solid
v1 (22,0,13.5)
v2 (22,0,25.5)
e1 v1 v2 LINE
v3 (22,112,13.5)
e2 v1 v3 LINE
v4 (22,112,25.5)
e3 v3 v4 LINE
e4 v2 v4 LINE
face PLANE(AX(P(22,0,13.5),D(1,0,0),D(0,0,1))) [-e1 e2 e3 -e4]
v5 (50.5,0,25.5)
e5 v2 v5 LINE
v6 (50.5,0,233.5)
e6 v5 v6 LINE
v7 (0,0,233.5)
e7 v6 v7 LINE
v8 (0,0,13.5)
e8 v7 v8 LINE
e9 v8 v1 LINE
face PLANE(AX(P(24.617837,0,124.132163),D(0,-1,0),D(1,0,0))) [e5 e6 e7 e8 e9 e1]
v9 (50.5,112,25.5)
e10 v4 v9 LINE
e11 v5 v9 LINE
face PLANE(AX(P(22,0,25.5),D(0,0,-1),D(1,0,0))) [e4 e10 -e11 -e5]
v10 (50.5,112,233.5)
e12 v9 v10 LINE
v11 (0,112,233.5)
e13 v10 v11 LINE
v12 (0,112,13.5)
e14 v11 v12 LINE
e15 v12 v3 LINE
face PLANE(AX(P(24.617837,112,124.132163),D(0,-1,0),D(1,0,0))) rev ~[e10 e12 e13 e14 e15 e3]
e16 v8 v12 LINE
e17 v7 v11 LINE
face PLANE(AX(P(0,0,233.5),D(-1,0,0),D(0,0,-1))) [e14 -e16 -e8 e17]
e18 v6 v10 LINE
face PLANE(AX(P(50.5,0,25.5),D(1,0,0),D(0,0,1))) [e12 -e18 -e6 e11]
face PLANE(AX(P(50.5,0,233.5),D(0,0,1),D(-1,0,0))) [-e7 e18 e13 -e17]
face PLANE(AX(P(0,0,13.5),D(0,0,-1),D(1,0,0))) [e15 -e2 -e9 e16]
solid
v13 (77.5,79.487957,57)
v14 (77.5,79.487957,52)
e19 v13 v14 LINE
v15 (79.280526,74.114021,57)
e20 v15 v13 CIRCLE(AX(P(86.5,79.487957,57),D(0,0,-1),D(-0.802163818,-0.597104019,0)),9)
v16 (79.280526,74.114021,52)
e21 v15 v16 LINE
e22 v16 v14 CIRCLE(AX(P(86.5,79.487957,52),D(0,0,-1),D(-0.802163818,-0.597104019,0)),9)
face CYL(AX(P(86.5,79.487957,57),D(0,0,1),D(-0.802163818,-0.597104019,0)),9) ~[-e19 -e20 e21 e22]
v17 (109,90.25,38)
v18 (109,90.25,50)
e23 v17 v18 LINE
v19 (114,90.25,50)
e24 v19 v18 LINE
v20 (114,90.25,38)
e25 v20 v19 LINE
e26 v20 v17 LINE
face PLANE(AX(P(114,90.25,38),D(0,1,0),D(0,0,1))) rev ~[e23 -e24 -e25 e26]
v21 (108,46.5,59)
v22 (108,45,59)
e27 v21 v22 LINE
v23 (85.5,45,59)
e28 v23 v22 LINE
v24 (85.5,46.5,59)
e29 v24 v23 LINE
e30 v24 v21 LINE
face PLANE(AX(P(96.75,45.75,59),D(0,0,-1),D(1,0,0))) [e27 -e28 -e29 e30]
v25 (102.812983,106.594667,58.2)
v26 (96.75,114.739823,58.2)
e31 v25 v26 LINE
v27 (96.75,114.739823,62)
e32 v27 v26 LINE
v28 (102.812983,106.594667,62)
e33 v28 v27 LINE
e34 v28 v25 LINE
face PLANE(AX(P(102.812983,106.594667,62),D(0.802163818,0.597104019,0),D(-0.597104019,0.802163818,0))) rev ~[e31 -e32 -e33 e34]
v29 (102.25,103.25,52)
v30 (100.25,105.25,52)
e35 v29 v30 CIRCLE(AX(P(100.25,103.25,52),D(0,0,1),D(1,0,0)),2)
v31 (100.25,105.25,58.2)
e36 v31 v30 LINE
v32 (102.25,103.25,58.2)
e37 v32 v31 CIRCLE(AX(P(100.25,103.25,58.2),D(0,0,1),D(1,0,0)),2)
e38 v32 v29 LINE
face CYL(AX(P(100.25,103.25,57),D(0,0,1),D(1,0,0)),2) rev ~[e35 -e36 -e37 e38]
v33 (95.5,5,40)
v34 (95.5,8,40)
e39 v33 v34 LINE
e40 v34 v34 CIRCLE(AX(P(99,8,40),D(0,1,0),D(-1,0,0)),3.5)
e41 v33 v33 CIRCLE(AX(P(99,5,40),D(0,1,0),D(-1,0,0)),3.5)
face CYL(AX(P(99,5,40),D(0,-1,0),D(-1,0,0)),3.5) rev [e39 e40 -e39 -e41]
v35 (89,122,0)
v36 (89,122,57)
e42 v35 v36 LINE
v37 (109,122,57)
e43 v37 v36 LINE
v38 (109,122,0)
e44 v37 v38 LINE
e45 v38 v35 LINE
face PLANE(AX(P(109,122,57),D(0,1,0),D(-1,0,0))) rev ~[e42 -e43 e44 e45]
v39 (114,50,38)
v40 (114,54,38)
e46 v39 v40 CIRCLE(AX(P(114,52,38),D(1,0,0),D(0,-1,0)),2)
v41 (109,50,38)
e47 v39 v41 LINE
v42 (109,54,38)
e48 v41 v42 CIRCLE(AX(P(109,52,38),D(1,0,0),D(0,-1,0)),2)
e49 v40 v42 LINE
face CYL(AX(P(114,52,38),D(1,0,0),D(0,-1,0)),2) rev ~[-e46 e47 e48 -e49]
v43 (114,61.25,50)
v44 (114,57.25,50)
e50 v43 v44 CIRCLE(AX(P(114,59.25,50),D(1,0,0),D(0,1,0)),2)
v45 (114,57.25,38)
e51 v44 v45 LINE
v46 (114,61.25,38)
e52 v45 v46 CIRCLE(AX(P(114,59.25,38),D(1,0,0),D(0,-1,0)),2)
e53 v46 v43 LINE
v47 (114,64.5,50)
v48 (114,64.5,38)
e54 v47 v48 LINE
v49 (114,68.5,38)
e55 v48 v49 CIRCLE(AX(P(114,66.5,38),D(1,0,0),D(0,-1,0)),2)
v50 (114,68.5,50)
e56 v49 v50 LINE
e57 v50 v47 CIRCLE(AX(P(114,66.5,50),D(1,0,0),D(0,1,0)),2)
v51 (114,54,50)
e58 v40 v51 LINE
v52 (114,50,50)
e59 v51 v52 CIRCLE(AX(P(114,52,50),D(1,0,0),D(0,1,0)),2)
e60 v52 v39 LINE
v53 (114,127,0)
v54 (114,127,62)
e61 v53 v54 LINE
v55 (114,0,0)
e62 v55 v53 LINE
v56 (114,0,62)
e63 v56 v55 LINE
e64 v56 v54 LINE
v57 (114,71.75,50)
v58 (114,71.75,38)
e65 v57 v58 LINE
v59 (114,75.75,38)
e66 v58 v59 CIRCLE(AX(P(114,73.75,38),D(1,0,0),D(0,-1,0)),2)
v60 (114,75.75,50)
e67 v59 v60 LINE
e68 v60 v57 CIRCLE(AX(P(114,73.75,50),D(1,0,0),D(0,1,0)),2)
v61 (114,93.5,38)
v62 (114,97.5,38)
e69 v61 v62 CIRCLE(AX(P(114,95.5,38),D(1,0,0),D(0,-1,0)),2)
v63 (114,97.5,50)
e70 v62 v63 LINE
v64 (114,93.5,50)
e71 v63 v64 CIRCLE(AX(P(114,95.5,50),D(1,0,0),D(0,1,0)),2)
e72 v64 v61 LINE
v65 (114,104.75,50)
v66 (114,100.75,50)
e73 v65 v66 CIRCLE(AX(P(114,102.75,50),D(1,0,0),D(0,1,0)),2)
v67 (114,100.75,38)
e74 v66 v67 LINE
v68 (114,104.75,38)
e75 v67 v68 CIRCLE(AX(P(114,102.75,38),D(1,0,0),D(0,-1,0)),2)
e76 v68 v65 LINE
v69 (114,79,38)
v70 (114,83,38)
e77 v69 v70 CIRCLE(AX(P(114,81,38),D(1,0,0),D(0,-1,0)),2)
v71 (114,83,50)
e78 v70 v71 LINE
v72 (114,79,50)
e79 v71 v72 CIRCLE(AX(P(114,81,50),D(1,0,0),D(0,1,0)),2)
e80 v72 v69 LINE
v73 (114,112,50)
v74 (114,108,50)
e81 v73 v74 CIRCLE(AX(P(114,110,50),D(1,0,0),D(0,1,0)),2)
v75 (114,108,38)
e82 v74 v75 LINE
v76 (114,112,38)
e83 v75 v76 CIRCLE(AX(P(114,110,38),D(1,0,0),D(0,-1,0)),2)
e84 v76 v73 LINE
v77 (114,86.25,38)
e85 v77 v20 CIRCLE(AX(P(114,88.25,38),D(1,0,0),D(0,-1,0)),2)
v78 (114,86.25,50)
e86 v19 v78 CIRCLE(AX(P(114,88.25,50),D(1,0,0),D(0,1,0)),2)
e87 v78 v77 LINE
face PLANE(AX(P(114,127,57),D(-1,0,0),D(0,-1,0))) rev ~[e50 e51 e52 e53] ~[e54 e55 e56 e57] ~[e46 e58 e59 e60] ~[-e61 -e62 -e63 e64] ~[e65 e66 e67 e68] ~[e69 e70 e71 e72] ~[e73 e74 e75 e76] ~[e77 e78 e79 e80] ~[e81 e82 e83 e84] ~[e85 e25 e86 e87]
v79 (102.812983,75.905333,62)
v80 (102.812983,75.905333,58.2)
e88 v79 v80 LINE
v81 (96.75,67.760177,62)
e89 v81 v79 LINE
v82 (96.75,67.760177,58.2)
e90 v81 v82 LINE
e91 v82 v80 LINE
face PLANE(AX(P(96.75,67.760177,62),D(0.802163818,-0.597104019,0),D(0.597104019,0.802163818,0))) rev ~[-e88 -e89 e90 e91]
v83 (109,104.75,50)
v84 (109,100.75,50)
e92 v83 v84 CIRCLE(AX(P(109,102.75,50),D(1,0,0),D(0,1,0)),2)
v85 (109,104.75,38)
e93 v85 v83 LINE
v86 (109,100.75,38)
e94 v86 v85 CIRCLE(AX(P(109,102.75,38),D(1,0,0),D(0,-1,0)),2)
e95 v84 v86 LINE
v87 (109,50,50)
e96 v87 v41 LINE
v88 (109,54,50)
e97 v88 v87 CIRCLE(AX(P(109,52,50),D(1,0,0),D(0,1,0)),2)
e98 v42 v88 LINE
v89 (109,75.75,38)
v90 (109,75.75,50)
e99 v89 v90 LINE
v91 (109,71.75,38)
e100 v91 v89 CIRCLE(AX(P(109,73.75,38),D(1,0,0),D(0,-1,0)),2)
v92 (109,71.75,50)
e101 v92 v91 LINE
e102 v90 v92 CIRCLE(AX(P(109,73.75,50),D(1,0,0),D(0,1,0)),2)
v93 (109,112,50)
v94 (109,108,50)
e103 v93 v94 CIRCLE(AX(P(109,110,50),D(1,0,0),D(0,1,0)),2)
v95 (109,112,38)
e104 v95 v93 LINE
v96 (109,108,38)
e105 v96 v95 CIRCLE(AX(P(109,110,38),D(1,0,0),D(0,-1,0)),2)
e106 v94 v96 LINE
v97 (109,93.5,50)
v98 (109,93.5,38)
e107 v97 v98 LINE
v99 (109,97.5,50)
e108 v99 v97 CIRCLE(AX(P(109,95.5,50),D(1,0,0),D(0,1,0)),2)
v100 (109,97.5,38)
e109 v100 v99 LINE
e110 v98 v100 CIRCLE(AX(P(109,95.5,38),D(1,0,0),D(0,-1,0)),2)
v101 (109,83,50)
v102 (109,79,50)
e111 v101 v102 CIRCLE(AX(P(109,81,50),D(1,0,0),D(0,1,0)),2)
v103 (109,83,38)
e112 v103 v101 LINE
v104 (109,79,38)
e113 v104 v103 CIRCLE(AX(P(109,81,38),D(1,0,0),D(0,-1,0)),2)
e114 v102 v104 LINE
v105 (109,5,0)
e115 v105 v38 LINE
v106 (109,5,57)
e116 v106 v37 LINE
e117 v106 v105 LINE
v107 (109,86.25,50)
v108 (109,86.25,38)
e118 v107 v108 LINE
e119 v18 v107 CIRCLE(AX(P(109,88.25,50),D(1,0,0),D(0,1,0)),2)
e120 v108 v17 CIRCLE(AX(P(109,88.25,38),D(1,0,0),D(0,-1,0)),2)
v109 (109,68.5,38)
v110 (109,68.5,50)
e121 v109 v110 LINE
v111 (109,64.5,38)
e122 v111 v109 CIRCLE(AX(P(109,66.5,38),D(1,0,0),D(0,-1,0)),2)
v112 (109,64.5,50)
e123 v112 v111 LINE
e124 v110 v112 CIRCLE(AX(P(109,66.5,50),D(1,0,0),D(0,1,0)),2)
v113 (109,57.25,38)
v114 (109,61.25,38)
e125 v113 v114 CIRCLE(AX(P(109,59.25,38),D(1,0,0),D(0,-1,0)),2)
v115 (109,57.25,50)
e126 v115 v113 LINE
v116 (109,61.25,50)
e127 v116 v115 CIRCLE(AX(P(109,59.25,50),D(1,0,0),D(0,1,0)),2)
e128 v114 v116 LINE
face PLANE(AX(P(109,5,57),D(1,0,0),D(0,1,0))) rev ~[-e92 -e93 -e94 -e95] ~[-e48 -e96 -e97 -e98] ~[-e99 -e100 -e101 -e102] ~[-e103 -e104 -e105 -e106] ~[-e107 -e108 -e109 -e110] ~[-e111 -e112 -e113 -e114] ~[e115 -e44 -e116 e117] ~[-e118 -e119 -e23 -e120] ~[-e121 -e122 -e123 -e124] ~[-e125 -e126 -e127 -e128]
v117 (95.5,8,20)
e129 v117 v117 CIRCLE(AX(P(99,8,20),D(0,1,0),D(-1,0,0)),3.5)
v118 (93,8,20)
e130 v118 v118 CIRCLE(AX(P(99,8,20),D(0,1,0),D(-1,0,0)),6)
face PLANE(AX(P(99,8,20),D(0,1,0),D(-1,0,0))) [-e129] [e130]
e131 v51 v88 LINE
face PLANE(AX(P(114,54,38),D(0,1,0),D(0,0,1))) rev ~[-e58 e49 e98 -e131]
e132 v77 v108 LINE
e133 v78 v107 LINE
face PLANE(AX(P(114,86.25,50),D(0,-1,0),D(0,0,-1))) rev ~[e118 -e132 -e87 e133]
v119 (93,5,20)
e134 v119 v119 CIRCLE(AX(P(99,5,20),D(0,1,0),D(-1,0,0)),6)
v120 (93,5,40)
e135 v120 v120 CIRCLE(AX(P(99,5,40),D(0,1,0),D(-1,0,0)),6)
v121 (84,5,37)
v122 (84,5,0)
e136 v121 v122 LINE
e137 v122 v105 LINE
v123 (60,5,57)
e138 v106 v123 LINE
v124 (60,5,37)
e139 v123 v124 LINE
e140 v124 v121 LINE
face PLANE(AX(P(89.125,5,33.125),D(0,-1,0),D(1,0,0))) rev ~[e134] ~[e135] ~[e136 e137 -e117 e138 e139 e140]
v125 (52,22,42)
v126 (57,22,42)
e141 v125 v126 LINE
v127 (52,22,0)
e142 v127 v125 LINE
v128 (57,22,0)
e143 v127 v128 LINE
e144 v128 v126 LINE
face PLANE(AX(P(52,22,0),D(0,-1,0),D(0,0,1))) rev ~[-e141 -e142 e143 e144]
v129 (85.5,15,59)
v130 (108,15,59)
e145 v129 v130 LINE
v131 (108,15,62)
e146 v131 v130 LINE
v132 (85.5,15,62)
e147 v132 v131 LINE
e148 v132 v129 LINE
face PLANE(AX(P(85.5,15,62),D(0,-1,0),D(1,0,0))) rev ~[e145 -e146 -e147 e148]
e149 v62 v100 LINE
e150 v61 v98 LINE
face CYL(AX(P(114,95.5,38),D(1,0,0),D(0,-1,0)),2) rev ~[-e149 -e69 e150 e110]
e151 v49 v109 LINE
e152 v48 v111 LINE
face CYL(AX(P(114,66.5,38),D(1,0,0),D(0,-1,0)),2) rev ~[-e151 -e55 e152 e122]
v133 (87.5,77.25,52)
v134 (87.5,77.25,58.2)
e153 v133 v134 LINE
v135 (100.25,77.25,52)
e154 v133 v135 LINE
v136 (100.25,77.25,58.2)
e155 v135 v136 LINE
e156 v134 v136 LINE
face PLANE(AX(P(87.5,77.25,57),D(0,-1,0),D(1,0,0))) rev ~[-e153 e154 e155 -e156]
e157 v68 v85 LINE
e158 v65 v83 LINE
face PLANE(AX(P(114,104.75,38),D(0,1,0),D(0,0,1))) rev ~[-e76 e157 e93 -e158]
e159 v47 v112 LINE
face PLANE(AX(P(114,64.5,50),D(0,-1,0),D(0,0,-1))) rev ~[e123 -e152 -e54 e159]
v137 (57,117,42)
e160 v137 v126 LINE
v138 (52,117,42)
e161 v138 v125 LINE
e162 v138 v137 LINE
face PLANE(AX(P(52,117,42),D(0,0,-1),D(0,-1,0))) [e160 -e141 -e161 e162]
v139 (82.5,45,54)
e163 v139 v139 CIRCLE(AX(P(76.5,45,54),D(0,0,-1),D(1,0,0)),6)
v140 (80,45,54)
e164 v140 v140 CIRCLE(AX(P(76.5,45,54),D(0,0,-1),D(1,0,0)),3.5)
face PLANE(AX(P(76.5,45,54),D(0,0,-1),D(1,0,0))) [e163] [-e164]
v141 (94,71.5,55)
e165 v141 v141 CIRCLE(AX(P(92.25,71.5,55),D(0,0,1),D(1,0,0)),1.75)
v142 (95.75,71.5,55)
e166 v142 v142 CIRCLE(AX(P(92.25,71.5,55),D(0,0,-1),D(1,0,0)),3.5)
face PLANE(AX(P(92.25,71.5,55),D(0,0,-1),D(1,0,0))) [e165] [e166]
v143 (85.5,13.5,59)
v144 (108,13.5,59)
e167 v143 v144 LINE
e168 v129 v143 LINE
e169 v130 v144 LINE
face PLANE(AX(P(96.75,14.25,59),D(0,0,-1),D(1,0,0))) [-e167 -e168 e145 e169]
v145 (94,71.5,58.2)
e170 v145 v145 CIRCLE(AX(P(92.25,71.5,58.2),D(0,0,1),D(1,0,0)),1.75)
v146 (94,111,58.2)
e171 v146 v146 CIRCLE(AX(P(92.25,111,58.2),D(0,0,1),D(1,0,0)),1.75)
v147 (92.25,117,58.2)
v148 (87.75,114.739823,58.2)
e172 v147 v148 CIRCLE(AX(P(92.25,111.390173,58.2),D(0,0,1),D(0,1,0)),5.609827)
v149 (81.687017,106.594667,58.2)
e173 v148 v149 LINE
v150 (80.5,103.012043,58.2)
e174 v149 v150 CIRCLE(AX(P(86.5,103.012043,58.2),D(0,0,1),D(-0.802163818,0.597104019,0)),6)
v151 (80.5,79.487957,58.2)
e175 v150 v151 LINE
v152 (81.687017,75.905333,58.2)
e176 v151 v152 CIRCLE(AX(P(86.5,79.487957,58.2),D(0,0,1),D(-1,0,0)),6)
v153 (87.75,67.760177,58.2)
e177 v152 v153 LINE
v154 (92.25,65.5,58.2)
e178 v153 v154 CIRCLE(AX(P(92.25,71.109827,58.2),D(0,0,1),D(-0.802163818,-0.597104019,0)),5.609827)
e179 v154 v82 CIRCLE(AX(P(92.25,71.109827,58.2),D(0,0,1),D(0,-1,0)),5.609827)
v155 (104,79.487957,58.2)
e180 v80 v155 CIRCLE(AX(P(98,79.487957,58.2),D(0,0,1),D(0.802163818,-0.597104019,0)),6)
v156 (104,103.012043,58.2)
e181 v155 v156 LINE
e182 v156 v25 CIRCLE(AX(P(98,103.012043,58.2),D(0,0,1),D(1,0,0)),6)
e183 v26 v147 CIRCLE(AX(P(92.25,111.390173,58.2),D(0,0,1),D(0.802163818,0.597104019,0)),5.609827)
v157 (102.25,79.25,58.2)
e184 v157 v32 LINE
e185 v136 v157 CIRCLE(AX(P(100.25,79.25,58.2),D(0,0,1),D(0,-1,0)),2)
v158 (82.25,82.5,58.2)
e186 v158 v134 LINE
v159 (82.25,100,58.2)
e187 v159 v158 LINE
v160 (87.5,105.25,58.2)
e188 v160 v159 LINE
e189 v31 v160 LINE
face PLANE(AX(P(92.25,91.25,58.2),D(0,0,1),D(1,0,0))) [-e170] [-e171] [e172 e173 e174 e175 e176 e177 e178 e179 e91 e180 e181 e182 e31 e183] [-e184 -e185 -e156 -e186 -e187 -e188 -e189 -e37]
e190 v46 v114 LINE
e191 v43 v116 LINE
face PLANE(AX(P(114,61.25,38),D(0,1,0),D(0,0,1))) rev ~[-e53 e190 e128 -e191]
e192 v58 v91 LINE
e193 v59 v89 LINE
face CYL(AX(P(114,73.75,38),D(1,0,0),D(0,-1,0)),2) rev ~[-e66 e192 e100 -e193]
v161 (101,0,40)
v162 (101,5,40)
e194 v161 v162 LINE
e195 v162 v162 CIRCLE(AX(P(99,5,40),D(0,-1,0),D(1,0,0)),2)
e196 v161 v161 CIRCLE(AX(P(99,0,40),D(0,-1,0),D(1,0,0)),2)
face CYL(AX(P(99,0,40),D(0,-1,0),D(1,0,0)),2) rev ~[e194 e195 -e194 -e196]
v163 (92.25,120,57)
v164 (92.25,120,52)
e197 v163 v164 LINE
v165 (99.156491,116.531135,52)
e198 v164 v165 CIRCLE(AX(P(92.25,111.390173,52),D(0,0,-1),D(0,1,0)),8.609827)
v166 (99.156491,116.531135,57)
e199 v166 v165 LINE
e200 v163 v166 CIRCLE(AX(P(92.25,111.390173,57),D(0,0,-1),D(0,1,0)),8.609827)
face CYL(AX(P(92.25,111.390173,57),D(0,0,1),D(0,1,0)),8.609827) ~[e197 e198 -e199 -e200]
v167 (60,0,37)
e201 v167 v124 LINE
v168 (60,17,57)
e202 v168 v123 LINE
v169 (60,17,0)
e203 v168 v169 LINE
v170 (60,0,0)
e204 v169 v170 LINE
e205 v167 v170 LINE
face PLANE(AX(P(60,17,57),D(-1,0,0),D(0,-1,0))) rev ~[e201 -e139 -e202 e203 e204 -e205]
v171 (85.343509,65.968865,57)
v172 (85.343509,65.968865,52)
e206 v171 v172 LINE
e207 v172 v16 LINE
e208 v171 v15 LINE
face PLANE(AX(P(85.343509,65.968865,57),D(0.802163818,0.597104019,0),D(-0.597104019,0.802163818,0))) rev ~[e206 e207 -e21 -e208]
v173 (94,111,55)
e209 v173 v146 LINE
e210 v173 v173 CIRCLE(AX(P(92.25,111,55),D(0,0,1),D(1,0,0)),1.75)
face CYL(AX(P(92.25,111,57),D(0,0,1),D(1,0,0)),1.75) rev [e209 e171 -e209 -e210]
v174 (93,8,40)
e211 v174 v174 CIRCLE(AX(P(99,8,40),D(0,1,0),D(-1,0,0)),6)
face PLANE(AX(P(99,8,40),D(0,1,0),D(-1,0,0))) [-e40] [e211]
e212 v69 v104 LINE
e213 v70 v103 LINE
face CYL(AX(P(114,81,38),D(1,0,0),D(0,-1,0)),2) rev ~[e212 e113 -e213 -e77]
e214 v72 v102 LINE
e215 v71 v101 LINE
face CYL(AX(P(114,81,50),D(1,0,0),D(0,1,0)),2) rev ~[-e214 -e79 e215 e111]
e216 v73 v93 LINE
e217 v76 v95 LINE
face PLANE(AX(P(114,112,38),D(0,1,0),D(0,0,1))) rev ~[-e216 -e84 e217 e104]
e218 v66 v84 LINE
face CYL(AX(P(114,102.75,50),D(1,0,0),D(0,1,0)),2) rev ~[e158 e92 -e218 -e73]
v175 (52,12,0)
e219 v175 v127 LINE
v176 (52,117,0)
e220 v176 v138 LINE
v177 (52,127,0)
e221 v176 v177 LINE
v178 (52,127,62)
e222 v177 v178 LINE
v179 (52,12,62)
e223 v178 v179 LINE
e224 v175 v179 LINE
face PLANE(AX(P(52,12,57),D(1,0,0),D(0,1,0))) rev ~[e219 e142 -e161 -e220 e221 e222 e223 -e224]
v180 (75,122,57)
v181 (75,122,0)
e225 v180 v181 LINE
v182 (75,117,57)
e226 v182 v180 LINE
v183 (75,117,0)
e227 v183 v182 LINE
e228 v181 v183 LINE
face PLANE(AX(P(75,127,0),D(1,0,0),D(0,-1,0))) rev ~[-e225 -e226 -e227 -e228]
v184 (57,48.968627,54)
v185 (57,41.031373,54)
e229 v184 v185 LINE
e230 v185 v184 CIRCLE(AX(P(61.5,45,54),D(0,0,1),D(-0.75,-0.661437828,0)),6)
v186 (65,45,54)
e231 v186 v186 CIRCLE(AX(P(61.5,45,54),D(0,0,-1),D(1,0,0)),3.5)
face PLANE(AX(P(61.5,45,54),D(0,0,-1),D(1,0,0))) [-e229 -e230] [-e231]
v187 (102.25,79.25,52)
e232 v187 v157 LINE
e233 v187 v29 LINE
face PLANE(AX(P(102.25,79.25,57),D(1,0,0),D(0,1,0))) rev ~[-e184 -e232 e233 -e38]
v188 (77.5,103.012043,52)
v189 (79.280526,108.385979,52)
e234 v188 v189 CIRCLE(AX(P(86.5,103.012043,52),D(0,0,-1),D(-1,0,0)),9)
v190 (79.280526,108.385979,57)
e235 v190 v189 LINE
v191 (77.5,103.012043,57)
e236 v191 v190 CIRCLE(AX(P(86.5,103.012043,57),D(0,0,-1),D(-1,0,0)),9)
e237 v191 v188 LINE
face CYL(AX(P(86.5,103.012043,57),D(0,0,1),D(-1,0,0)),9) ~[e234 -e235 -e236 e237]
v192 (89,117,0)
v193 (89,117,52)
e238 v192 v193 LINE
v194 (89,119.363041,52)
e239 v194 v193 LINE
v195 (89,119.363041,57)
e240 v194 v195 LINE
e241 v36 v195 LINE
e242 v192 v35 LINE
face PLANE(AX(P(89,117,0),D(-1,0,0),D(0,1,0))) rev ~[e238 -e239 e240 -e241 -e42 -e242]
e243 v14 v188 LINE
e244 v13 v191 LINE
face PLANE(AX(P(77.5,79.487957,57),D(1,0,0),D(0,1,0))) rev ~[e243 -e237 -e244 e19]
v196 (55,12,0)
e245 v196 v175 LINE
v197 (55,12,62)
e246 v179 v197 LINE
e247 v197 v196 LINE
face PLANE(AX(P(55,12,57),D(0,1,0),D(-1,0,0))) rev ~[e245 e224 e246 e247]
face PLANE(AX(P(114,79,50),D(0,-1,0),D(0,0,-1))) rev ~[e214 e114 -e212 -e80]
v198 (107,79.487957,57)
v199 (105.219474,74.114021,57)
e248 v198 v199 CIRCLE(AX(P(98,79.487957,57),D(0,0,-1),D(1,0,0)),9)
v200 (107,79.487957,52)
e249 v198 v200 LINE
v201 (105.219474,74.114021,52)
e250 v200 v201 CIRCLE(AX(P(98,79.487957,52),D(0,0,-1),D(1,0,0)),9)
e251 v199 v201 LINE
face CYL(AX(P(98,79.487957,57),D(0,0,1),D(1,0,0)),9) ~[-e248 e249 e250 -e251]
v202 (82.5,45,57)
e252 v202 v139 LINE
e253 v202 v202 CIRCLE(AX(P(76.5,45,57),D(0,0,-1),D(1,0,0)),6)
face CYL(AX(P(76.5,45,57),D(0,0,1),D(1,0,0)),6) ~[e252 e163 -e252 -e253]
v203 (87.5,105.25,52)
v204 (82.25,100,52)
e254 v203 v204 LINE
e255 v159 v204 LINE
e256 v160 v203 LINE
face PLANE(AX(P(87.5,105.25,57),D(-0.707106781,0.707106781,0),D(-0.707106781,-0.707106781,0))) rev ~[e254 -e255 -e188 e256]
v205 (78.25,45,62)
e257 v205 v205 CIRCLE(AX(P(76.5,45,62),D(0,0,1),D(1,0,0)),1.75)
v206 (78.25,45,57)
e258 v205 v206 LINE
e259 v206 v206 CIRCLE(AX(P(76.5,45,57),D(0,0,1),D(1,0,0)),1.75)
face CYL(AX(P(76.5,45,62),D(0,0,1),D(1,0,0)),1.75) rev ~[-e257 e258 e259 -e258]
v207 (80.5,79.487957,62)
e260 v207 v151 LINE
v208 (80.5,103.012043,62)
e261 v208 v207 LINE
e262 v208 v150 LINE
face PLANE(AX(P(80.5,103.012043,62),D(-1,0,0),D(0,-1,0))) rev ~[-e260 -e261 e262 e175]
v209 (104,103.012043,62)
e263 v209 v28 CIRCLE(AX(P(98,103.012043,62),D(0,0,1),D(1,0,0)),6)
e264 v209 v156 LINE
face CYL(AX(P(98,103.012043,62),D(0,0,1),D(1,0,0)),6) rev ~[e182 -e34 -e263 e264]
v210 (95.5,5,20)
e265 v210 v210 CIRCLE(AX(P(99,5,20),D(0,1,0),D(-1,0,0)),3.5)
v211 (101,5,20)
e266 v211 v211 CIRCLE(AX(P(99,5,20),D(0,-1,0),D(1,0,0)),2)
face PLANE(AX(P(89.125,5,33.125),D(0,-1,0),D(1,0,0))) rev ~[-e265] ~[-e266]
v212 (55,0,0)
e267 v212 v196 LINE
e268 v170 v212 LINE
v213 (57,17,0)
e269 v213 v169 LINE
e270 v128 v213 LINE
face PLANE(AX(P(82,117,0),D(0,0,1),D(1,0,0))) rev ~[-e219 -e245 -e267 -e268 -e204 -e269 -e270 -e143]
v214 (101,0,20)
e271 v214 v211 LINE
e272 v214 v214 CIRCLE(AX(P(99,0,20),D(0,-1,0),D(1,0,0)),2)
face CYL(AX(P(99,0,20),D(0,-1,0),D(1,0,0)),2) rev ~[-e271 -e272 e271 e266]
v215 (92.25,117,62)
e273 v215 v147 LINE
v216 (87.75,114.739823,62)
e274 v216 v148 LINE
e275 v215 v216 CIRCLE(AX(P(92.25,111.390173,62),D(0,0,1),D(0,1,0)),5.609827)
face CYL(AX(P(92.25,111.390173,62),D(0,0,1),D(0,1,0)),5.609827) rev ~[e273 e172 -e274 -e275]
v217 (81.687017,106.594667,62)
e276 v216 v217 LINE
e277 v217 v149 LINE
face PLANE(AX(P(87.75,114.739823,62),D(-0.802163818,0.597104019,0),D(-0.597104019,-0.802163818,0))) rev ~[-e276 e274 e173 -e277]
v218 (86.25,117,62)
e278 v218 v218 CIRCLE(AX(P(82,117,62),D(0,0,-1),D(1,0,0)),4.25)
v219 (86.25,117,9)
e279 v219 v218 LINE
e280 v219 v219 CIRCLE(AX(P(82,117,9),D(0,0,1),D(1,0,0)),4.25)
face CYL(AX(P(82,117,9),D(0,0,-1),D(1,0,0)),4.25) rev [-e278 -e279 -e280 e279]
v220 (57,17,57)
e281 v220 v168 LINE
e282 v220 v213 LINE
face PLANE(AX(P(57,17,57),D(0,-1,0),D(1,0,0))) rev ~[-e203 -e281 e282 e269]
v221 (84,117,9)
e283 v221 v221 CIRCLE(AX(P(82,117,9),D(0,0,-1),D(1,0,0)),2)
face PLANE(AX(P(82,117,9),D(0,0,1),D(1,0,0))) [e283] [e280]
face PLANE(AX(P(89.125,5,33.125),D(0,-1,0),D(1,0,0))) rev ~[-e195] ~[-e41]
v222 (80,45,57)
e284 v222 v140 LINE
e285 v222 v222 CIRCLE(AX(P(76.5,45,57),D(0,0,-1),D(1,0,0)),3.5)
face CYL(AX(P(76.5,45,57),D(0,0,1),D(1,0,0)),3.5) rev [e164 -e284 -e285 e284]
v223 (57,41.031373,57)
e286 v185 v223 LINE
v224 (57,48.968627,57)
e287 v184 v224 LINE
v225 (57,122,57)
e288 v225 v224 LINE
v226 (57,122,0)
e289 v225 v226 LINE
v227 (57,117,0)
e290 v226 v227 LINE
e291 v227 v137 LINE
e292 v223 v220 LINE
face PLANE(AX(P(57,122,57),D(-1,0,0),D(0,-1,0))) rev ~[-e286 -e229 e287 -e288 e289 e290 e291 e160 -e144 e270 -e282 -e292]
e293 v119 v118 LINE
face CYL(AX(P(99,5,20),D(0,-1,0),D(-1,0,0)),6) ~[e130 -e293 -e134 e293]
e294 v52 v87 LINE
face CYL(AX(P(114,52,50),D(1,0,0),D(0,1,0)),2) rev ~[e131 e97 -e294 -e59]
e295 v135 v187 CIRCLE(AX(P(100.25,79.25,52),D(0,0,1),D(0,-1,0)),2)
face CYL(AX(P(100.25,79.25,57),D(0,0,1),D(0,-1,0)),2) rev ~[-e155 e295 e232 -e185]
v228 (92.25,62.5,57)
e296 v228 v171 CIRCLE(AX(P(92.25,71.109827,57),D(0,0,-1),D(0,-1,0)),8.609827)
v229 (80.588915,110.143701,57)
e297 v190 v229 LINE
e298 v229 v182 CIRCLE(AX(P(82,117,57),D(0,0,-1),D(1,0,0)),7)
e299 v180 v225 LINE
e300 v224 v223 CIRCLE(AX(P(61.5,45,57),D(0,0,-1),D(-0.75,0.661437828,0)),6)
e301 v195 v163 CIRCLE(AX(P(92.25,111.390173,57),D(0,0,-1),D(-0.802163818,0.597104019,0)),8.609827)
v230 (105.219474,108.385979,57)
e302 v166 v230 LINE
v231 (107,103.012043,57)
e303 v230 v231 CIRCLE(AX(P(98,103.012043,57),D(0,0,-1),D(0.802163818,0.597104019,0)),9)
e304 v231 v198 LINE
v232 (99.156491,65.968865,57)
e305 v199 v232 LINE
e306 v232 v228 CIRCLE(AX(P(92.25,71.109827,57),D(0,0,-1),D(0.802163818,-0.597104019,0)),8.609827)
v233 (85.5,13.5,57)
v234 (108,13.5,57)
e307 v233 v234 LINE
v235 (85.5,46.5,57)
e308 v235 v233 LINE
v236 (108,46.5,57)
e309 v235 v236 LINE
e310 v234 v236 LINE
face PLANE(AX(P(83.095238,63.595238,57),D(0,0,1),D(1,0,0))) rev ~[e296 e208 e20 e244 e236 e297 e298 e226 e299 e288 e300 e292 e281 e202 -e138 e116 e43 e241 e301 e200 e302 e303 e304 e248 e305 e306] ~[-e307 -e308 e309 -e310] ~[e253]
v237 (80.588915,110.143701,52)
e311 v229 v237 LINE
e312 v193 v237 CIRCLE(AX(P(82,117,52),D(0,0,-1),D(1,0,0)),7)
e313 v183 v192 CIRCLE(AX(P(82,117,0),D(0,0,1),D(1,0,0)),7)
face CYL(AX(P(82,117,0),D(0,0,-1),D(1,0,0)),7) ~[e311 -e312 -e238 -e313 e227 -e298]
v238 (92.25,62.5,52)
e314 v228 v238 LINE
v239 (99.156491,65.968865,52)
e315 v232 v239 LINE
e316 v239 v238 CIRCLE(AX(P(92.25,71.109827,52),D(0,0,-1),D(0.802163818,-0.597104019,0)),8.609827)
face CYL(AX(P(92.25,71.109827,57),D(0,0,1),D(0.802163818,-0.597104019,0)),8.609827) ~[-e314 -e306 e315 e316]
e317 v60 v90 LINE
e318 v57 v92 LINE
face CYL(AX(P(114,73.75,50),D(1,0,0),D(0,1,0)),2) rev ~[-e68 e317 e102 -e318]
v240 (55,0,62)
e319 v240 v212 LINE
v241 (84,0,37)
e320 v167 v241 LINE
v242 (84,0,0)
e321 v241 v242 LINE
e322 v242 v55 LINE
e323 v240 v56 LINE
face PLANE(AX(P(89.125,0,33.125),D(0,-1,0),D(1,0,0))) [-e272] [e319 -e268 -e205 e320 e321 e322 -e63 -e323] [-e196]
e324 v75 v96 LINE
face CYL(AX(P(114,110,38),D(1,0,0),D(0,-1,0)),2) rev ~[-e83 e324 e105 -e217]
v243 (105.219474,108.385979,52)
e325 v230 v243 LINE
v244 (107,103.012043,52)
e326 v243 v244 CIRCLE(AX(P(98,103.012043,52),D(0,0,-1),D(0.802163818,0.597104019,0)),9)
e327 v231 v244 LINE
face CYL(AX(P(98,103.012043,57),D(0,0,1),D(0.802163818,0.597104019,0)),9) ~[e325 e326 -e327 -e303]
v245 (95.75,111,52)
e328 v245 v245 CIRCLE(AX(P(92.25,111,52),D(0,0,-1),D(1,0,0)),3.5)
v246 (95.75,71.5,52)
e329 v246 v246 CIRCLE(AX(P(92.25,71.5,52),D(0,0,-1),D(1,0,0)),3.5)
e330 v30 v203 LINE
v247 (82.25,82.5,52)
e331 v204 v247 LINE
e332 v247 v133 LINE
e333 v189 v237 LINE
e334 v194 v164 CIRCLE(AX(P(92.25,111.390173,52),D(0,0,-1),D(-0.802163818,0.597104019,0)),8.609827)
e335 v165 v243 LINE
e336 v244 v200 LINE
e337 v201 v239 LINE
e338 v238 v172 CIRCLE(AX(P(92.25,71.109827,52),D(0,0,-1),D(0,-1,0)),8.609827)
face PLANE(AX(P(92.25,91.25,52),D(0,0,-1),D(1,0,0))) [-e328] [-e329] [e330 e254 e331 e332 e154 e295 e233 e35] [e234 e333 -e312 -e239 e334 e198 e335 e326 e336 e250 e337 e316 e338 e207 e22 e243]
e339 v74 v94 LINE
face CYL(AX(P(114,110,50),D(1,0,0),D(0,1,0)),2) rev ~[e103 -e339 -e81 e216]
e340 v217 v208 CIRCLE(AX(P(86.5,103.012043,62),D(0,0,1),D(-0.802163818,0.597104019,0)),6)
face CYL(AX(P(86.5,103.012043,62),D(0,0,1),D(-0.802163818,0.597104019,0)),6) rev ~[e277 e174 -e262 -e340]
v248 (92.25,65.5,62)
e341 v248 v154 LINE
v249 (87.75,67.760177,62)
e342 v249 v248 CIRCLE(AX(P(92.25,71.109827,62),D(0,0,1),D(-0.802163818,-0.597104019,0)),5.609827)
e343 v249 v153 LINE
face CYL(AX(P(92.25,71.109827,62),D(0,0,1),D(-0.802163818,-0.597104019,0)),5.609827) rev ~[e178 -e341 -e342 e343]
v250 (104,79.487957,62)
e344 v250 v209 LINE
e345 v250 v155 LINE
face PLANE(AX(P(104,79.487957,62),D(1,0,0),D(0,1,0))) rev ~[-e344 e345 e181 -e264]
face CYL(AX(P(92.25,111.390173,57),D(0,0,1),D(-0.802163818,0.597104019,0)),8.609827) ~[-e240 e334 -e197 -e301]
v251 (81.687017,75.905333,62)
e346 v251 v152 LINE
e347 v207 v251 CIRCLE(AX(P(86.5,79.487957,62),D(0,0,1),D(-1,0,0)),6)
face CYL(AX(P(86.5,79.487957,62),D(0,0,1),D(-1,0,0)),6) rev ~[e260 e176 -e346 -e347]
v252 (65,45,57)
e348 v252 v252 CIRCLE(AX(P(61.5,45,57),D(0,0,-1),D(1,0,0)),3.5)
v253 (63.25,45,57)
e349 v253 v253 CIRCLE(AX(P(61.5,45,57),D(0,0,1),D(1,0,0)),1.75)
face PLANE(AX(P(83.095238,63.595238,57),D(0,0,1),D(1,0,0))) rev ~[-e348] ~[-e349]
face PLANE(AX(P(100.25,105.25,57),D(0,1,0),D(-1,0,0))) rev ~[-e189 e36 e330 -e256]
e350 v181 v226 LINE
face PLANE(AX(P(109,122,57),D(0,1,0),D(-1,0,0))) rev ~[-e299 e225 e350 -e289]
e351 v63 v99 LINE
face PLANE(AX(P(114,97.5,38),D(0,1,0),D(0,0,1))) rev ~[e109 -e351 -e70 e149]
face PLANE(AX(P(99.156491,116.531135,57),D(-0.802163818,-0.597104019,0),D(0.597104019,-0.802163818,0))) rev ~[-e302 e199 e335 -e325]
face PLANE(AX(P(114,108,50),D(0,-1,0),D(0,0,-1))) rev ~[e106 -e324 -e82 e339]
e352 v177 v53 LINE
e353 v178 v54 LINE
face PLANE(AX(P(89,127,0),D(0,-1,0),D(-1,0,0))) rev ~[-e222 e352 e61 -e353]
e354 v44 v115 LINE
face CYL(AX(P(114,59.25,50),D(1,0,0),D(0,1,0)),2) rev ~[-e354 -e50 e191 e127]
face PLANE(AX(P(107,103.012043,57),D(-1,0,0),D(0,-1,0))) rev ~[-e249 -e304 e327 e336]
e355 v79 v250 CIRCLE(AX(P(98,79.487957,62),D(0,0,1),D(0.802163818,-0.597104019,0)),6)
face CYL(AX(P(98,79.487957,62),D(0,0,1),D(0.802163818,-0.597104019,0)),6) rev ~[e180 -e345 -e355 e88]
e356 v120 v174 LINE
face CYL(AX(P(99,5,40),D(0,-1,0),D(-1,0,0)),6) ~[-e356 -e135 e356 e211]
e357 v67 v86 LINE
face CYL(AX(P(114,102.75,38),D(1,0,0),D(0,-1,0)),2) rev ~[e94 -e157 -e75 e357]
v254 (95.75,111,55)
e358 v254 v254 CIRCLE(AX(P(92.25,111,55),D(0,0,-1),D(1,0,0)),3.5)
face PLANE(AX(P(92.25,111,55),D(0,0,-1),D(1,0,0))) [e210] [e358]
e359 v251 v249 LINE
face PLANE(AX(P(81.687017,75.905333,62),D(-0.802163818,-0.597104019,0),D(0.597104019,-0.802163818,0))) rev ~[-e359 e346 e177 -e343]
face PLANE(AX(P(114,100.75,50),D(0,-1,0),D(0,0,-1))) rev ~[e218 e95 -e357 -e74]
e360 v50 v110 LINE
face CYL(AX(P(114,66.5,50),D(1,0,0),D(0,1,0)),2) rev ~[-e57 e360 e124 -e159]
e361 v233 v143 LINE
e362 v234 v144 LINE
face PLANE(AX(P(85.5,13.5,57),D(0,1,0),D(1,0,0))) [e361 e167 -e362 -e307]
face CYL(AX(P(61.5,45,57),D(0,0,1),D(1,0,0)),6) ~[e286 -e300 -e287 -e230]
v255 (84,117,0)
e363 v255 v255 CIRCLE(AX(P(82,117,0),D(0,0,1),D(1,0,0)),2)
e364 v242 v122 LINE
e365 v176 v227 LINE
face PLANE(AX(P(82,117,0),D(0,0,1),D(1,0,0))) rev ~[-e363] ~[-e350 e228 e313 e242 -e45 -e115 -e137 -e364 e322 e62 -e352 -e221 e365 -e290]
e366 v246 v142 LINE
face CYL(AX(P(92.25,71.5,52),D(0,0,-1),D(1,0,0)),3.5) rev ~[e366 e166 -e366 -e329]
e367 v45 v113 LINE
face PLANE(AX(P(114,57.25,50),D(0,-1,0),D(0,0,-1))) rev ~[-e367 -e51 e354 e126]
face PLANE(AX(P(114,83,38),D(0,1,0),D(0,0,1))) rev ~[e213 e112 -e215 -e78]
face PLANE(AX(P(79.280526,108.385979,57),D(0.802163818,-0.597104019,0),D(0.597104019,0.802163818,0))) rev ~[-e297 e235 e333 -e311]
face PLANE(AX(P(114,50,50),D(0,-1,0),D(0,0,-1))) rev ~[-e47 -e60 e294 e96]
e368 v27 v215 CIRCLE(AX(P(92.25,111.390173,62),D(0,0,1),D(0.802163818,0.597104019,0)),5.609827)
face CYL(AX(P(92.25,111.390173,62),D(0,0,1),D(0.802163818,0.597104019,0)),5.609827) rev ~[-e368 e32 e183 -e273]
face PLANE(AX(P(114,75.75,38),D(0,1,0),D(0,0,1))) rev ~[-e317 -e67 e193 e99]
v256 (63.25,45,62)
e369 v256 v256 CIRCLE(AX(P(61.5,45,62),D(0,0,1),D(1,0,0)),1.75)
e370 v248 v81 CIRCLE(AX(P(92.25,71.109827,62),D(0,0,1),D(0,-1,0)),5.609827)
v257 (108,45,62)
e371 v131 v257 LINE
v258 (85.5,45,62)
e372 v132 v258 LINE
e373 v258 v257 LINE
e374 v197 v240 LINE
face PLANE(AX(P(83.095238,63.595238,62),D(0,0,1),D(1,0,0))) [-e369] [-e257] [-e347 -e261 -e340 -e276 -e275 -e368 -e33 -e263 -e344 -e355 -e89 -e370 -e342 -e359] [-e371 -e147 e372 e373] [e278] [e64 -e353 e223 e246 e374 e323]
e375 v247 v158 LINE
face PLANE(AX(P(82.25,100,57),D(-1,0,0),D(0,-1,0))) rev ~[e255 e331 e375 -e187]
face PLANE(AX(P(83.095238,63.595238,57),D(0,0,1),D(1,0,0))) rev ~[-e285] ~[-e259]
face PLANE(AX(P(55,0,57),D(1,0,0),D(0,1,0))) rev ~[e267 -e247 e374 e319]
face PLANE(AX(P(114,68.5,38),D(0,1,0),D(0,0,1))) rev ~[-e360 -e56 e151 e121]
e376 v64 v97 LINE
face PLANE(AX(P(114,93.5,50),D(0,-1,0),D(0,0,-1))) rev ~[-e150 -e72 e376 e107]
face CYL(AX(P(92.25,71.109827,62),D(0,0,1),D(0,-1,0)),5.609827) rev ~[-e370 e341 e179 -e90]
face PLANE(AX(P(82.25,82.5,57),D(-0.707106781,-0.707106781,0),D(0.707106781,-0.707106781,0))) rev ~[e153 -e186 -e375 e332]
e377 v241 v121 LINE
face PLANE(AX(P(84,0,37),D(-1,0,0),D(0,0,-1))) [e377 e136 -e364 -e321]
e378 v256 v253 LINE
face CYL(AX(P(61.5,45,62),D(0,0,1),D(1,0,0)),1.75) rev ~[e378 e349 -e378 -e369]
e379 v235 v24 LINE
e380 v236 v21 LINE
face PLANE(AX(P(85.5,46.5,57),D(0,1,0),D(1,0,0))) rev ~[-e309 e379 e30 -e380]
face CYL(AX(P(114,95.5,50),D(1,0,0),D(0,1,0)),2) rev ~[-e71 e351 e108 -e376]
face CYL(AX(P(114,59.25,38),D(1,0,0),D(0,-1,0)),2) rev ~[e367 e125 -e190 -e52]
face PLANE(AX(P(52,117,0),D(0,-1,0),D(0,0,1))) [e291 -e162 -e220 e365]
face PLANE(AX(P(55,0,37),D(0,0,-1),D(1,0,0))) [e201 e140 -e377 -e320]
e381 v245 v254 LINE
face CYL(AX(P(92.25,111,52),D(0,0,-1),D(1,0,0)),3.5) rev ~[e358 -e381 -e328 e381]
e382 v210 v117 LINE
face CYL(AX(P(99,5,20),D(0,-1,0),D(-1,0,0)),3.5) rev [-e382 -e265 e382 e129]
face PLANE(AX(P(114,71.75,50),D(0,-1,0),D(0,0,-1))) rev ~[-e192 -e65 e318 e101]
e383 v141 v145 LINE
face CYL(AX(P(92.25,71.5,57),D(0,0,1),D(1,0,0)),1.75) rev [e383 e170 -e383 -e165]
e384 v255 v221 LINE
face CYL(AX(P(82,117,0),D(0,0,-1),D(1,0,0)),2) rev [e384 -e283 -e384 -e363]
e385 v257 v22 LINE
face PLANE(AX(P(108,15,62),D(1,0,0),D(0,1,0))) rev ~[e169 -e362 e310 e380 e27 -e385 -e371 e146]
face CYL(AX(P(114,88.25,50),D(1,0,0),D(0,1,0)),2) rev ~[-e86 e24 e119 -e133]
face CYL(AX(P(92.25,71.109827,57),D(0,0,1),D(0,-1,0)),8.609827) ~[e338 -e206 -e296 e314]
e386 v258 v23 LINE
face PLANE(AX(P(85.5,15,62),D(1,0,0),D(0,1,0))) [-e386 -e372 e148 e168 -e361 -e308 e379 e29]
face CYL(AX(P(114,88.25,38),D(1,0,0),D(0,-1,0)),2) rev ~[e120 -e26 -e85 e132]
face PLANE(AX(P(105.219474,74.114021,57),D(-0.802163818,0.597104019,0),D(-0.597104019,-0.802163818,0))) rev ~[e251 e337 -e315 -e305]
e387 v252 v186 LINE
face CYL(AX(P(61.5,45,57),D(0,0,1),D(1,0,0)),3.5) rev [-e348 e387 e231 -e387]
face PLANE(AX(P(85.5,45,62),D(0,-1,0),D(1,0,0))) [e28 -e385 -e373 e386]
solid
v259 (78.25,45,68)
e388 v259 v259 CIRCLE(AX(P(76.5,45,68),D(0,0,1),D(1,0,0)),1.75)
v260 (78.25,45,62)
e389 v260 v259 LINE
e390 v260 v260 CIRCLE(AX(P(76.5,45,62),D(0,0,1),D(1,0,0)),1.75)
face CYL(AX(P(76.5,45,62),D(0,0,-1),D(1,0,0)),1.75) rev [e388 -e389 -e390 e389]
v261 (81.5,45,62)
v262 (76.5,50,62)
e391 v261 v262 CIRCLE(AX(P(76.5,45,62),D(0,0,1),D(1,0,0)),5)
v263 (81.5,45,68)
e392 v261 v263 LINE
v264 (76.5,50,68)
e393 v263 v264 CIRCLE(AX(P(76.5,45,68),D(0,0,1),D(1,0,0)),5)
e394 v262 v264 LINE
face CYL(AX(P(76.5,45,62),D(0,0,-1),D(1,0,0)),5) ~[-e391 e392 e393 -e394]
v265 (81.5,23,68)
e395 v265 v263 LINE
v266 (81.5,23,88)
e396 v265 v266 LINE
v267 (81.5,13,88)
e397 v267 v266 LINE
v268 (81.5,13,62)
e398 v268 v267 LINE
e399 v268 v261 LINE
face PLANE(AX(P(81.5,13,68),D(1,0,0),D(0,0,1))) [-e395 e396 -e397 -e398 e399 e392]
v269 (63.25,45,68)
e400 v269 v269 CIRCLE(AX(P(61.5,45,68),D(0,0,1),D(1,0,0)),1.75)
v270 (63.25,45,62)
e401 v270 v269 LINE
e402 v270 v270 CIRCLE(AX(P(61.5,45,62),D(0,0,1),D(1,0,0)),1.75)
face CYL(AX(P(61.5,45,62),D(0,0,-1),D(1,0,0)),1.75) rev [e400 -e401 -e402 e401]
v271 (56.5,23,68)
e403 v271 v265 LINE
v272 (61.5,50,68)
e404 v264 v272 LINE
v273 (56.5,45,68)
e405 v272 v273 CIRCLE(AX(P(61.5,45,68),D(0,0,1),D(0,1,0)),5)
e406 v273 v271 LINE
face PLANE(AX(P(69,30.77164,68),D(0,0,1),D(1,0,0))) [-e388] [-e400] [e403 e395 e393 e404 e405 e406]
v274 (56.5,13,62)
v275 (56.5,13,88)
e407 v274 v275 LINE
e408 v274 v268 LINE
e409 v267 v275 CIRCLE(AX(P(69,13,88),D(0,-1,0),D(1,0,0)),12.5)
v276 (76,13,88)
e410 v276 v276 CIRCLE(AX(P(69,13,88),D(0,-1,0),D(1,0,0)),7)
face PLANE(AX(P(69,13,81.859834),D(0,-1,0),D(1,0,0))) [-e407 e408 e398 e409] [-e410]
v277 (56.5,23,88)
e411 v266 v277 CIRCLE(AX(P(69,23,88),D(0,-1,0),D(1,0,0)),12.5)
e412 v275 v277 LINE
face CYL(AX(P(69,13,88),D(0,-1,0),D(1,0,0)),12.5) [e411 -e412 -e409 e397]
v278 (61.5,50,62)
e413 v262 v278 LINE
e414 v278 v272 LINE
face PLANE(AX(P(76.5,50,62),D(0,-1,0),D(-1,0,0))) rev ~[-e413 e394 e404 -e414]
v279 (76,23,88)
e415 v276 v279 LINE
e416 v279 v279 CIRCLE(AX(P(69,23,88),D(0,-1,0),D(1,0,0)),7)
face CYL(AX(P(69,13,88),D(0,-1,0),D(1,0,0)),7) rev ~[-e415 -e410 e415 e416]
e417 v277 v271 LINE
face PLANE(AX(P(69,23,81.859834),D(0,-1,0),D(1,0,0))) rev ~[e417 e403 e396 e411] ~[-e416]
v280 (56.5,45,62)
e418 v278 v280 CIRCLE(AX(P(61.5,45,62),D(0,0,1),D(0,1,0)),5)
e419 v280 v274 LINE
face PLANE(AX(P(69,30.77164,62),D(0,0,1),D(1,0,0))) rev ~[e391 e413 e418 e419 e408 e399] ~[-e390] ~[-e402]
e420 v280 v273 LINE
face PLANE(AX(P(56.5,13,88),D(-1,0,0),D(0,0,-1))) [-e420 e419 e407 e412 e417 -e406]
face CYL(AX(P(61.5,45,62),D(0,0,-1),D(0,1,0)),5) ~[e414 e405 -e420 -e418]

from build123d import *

# Parameters (mm, degrees)
F3_R      = 1.75
F3_W      = 22.5
F3_H      = 30
F4_DEPTH  = 5
F5_W      = 22.5
F5_H      = 1.5
F6_DEPTH  = 2
F7_R      = 2
F8_DEPTH  = 5
F10_DEPTH = 57
F11_R     = 2
F12_DEPTH = 62
F14_DEPTH = 3.8
F15_R     = 1.75
F16_DEPTH = 25
F17_R     = 1.75
F18_DEPTH = 5
F20_START = 9
F19_R     = 4.25
F20_DEPTH = 53.001
F21_DEPTH = 112
F22_W     = 95
F22_H     = 42
F23_DEPTH = 5
F24_R     = 3.5
F25_DEPTH = 3
F26_R     = 6
F26_R_2   = 3.5
F27_DEPTH = 3
F29_DEPTH = 5
F30_R     = 6
F30_R_2   = 3.5
F31_DEPTH = 3
F32_R     = 1.75
F33_DEPTH = 6
F34_R     = 7
F35_DEPTH = 10


with BuildPart() as f4:
    # F3 (on offset) → F4 (new body)
    with BuildSketch(Plane.XY.offset(62)):
        Polygon((55, 12), (55, 0), (114, 0), (114, 127), (52, 127), (52, 12), align=None)
        with Locations((61.5, 45)):
            Circle(F3_R, mode=Mode.SUBTRACT)
        with Locations((76.5, 45)):
            Circle(F3_R, mode=Mode.SUBTRACT)
        with Locations((96.75, 30)):
            Rectangle(F3_W, F3_H, mode=Mode.SUBTRACT)
    extrude(amount=-F4_DEPTH)

    # F5 (on face) → F6 (cut)
    with BuildSketch(Plane(origin=(0, 0, 57), x_dir=(1, 0, 0), z_dir=(0, 0, -1))):
        with Locations((96.75, -45.75)):
            Rectangle(F5_W, F5_H)
        with Locations((96.75, -14.25)):
            Rectangle(F5_W, F5_H)
    extrude(amount=-F6_DEPTH, mode=Mode.SUBTRACT)

    # F7 (on face) → F8 (join)
    with BuildSketch(Plane.XZ):
        Polygon((114, 57), (55, 57), (55, 37), (84, 37), (84, 0), (114, 0), align=None)
        with Locations((99, 20)):
            Circle(F7_R, mode=Mode.SUBTRACT)
        with Locations((99, 40)):
            Circle(F7_R, mode=Mode.SUBTRACT)
    extrude(amount=-F8_DEPTH)

    # F9 (on face) → F10 (join, through all)
    with BuildSketch(Plane(origin=(0, 0, 57), x_dir=(1, 0, 0), z_dir=(0, 0, -1))):
        Polygon((114, -127), (114, -5), (109, -5), (109, -122), (57, -122), (57, -17), (60, -17), (60, 0), (55, 0), (55, -12), (52, -12), (52, -127), align=None)
    extrude(amount=F10_DEPTH)

    # F11 (on Top) → F12 (join, through all)
    with BuildSketch(Plane.XY):
        with BuildLine():
            ThreePointArc((75, 117), (82, 110), (89, 117))
            ThreePointArc((89, 117), (82, 124), (75, 117))
        make_face()
        with Locations((82, 117)):
            Circle(F11_R, mode=Mode.SUBTRACT)
        with BuildLine():
            ThreePointArc((75, 117), (82, 124), (89, 117))
            Line((89, 117), (89, 127))
            Line((89, 127), (75, 127))
            Line((75, 127), (75, 117))
        make_face()
    extrude(amount=F12_DEPTH)

    # F13 (on face) → F14 (cut)
    with BuildSketch(Plane.XY.offset(62)):
        with BuildLine():
            Line((104, 79.4879569653), (104, 91.25))
            Line((104, 91.25), (104, 103.0120430347))
            ThreePointArc((104, 103.0120430347), (103.695520057, 104.8991178294), (102.8129829064, 106.5946671488))
            Line((102.8129829064, 106.5946671488), (96.75, 114.7398233698))
            ThreePointArc((96.75, 114.7398233698), (94.7678561516, 116.4032118995), (92.25, 117))
            ThreePointArc((92.25, 117), (89.7321438484, 116.4032118995), (87.75, 114.7398233698))
            Line((87.75, 114.7398233698), (81.6870170936, 106.5946671488))
            ThreePointArc((81.6870170936, 106.5946671488), (80.804479943, 104.8991178294), (80.5, 103.0120430347))
            Line((80.5, 103.0120430347), (80.5, 91.25))
            Line((80.5, 91.25), (80.5, 79.4879569653))
            ThreePointArc((80.5, 79.4879569653), (80.804479943, 77.6008821706), (81.6870170936, 75.9053328512))
            Line((81.6870170936, 75.9053328512), (87.75, 67.7601766302))
            ThreePointArc((87.75, 67.7601766302), (89.7321438484, 66.0967881005), (92.25, 65.5))
            ThreePointArc((92.25, 65.5), (94.7678561516, 66.0967881005), (96.75, 67.7601766302))
            Line((96.75, 67.7601766302), (102.8129829064, 75.9053328512))
            ThreePointArc((102.8129829064, 75.9053328512), (103.695520057, 77.6008821706), (104, 79.4879569653))
        make_face()
    extrude(amount=-F14_DEPTH, mode=Mode.SUBTRACT)

    # F15 (on face) → F16 (cut)
    with BuildSketch(Plane.XY.offset(58.2)):
        with BuildLine():
            Line((102.25, 79.25), (102.25, 91.25))
            Line((102.25, 91.25), (102.25, 103.25))
            ThreePointArc((102.25, 103.25), (101.6642135624, 104.6642135624), (100.25, 105.25))
            Line((100.25, 105.25), (87.5, 105.25))
            Line((87.5, 105.25), (82.25, 100))
            Line((82.25, 100), (82.25, 91.25))
            Line((82.25, 91.25), (82.25, 82.5))
            Line((82.25, 82.5), (87.5, 77.25))
            Line((87.5, 77.25), (100.25, 77.25))
            ThreePointArc((100.25, 77.25), (101.6642135624, 77.8357864376), (102.25, 79.25))
        make_face()
        with Locations((92.25, 111)):
            Circle(F15_R)
        with Locations((92.25, 71.5)):
            Circle(F15_R)
    extrude(amount=-F16_DEPTH, mode=Mode.SUBTRACT)

    # F17 (on face) → F18 (join)
    with BuildSketch(Plane(origin=(0, 0, 57), x_dir=(1, 0, 0), z_dir=(0, 0, -1))):
        with BuildLine():
            ThreePointArc((107, -79.4879569653), (106.5432800854, -76.6573447732), (105.2194743596, -74.1140207942))
            Line((105.2194743596, -74.1140207942), (99.1564914532, -65.9688645732))
            ThreePointArc((99.1564914532, -65.9688645732), (96.1143448869, -63.4159359812), (92.25, -62.5))
            ThreePointArc((92.25, -62.5), (88.3856551131, -63.4159359812), (85.3435085468, -65.9688645732))
            Line((85.3435085468, -65.9688645732), (79.2805256404, -74.1140207942))
            ThreePointArc((79.2805256404, -74.1140207942), (77.9567199146, -76.6573447732), (77.5, -79.4879569653))
            Line((77.5, -79.4879569653), (77.5, -89.5))
            Line((77.5, -89.5), (77.5, -103.0120430347))
            ThreePointArc((77.5, -103.0120430347), (77.9567199146, -105.8426552268), (79.2805256404, -108.3859792058))
            Line((79.2805256404, -108.3859792058), (85.3435085468, -116.5311354268))
            ThreePointArc((85.3435085468, -116.5311354268), (88.3856551131, -119.0840640188), (92.25, -120))
            ThreePointArc((92.25, -120), (96.1143448869, -119.0840640188), (99.1564914532, -116.5311354268))
            Line((99.1564914532, -116.5311354268), (105.2194743596, -108.3859792058))
            ThreePointArc((105.2194743596, -108.3859792058), (106.5432800854, -105.8426552268), (107, -103.0120430347))
            Line((107, -103.0120430347), (107, -89.5))
            Line((107, -89.5), (107, -79.4879569653))
        make_face()
        with Locations((92.25, -111)):
            Circle(F17_R, mode=Mode.SUBTRACT)
        with BuildLine():
            ThreePointArc((102.25, -103.25), (101.6642135624, -104.6642135624), (100.25, -105.25))
            Line((100.25, -105.25), (87.5, -105.25))
            Line((87.5, -105.25), (82.25, -100))
            Line((82.25, -100), (82.25, -82.5))
            Line((82.25, -82.5), (87.5, -77.25))
            Line((87.5, -77.25), (100.25, -77.25))
            ThreePointArc((100.25, -77.25), (101.6642135624, -77.8357864376), (102.25, -79.25))
            Line((102.25, -79.25), (102.25, -103.25))
        make_face(mode=Mode.SUBTRACT)
        with Locations((92.25, -71.5)):
            Circle(F17_R, mode=Mode.SUBTRACT)
    extrude(amount=F18_DEPTH)

    # F19 (on Top) → F20 (cut)
    with BuildSketch(Plane.XY.offset(F20_START)):
        with Locations((82, 117)):
            Circle(F19_R)
    extrude(amount=F20_DEPTH, mode=Mode.SUBTRACT)

    # F22 (on face) → F23 (cut, through all)
    with BuildSketch(Plane(origin=(52, 0, 0), x_dir=(0, -1, 0), z_dir=(-1, 0, 0))):
        with Locations((-69.5, 21)):
            Rectangle(F22_W, F22_H)
    extrude(amount=-F23_DEPTH, mode=Mode.SUBTRACT)

    # F24 (on face) → F25 (cut)
    with BuildSketch(Plane(origin=(0, 0, 52), x_dir=(1, 0, 0), z_dir=(0, 0, -1))):
        with Locations((92.25, -71.5)):
            Circle(F24_R)
        with Locations((92.25, -111)):
            Circle(F24_R)
    extrude(amount=-F25_DEPTH, mode=Mode.SUBTRACT)

    # F26 (on face) → F27 (join)
    with BuildSketch(Plane(origin=(0, 0, 57), x_dir=(1, 0, 0), z_dir=(0, 0, -1))):
        with Locations((76.5, -45)):
            Circle(F26_R)
        with Locations((76.5, -45)):
            Circle(F26_R_2, mode=Mode.SUBTRACT)
        with Locations((61.5, -45)):
            Circle(F26_R)
        with Locations((61.5, -45)):
            Circle(F26_R_2, mode=Mode.SUBTRACT)
    extrude(amount=F27_DEPTH)

    # F28 (on face) → F29 (cut, through all)
    with BuildSketch(Plane.YZ.offset(114)):
        with BuildLine():
            ThreePointArc((54, 50), (52, 52), (50, 50))
            Line((50, 50), (50, 38))
            ThreePointArc((50, 38), (52, 36), (54, 38))
            Line((54, 38), (54, 50))
        make_face()
        with BuildLine():
            Line((57.25, 50), (57.25, 38))
            ThreePointArc((57.25, 38), (59.25, 36), (61.25, 38))
            Line((61.25, 38), (61.25, 50))
            ThreePointArc((61.25, 50), (59.25, 52), (57.25, 50))
        make_face()
        with BuildLine():
            Line((64.5, 50), (64.5, 38))
            ThreePointArc((64.5, 38), (66.5, 36), (68.5, 38))
            Line((68.5, 38), (68.5, 50))
            ThreePointArc((68.5, 50), (66.5, 52), (64.5, 50))
        make_face()
        with BuildLine():
            Line((71.75, 50), (71.75, 38))
            ThreePointArc((71.75, 38), (73.75, 36), (75.75, 38))
            Line((75.75, 38), (75.75, 50))
            ThreePointArc((75.75, 50), (73.75, 52), (71.75, 50))
        make_face()
        with BuildLine():
            Line((79, 50), (79, 38))
            ThreePointArc((79, 38), (81, 36), (83, 38))
            Line((83, 38), (83, 50))
            ThreePointArc((83, 50), (81, 52), (79, 50))
        make_face()
        with BuildLine():
            Line((86.25, 50), (86.25, 38))
            ThreePointArc((86.25, 38), (88.25, 36), (90.25, 38))
            Line((90.25, 38), (90.25, 50))
            ThreePointArc((90.25, 50), (88.25, 52), (86.25, 50))
        make_face()
        with BuildLine():
            Line((93.5, 50), (93.5, 38))
            ThreePointArc((93.5, 38), (95.5, 36), (97.5, 38))
            Line((97.5, 38), (97.5, 50))
            ThreePointArc((97.5, 50), (95.5, 52), (93.5, 50))
        make_face()
        with BuildLine():
            Line((100.75, 50), (100.75, 38))
            ThreePointArc((100.75, 38), (102.75, 36), (104.75, 38))
            Line((104.75, 38), (104.75, 50))
            ThreePointArc((104.75, 50), (102.75, 52), (100.75, 50))
        make_face()
        with BuildLine():
            Line((108, 50), (108, 38))
            ThreePointArc((108, 38), (110, 36), (112, 38))
            Line((112, 38), (112, 50))
            ThreePointArc((112, 50), (110, 52), (108, 50))
        make_face()
    extrude(amount=-F29_DEPTH, mode=Mode.SUBTRACT)

    # F30 (on face) → F31 (join)
    with BuildSketch(Plane(origin=(0, 5, 0), x_dir=(-1, 0, 0), z_dir=(0, 1, 0))):
        with Locations((-99, 20)):
            Circle(F30_R)
        with Locations((-99, 20)):
            Circle(F30_R_2, mode=Mode.SUBTRACT)
        with Locations((-99, 40)):
            Circle(F30_R)
        with Locations((-99, 40)):
            Circle(F30_R_2, mode=Mode.SUBTRACT)
    extrude(amount=F31_DEPTH)


with BuildPart() as f21:
    # F0 (on Front) → F21 (new body)
    with BuildSketch(Plane.XZ):
        Polygon((0, 233.5), (0, 13.5), (22, 13.5), (22, 25.5), (50.5, 25.5), (50.5, 233.5), align=None)
    extrude(amount=-F21_DEPTH)


with BuildPart() as f33:
    # F32 (on face) → F33 (new body)
    with BuildSketch(Plane.XY.offset(62)):
        with BuildLine():
            Line((76.5, 50), (61.5, 50))
            ThreePointArc((61.5, 50), (57.9644660941, 48.5355339059), (56.5, 45))
            Line((56.5, 45), (56.5, 13))
            Line((56.5, 13), (81.5, 13))
            Line((81.5, 13), (81.5, 45))
            ThreePointArc((81.5, 45), (80.0355339059, 48.5355339059), (76.5, 50))
        make_face()
        with Locations((61.5, 45)):
            Circle(F32_R, mode=Mode.SUBTRACT)
        with Locations((76.5, 45)):
            Circle(F32_R, mode=Mode.SUBTRACT)
    extrude(amount=F33_DEPTH)

    # F34 (on face) → F35 (join)
    with BuildSketch(Plane.XZ.offset(-13)):
        with BuildLine():
            Line((56.5, 88), (56.5, 68))
            Line((56.5, 68), (81.5, 68))
            Line((81.5, 68), (81.5, 88))
            ThreePointArc((81.5, 88), (69, 100.5), (56.5, 88))
        make_face()
        with Locations((69, 88)):
            Circle(F34_R, mode=Mode.SUBTRACT)
    extrude(amount=-F35_DEPTH)


solid = Compound([f4.part, f21.part, f33.part])
